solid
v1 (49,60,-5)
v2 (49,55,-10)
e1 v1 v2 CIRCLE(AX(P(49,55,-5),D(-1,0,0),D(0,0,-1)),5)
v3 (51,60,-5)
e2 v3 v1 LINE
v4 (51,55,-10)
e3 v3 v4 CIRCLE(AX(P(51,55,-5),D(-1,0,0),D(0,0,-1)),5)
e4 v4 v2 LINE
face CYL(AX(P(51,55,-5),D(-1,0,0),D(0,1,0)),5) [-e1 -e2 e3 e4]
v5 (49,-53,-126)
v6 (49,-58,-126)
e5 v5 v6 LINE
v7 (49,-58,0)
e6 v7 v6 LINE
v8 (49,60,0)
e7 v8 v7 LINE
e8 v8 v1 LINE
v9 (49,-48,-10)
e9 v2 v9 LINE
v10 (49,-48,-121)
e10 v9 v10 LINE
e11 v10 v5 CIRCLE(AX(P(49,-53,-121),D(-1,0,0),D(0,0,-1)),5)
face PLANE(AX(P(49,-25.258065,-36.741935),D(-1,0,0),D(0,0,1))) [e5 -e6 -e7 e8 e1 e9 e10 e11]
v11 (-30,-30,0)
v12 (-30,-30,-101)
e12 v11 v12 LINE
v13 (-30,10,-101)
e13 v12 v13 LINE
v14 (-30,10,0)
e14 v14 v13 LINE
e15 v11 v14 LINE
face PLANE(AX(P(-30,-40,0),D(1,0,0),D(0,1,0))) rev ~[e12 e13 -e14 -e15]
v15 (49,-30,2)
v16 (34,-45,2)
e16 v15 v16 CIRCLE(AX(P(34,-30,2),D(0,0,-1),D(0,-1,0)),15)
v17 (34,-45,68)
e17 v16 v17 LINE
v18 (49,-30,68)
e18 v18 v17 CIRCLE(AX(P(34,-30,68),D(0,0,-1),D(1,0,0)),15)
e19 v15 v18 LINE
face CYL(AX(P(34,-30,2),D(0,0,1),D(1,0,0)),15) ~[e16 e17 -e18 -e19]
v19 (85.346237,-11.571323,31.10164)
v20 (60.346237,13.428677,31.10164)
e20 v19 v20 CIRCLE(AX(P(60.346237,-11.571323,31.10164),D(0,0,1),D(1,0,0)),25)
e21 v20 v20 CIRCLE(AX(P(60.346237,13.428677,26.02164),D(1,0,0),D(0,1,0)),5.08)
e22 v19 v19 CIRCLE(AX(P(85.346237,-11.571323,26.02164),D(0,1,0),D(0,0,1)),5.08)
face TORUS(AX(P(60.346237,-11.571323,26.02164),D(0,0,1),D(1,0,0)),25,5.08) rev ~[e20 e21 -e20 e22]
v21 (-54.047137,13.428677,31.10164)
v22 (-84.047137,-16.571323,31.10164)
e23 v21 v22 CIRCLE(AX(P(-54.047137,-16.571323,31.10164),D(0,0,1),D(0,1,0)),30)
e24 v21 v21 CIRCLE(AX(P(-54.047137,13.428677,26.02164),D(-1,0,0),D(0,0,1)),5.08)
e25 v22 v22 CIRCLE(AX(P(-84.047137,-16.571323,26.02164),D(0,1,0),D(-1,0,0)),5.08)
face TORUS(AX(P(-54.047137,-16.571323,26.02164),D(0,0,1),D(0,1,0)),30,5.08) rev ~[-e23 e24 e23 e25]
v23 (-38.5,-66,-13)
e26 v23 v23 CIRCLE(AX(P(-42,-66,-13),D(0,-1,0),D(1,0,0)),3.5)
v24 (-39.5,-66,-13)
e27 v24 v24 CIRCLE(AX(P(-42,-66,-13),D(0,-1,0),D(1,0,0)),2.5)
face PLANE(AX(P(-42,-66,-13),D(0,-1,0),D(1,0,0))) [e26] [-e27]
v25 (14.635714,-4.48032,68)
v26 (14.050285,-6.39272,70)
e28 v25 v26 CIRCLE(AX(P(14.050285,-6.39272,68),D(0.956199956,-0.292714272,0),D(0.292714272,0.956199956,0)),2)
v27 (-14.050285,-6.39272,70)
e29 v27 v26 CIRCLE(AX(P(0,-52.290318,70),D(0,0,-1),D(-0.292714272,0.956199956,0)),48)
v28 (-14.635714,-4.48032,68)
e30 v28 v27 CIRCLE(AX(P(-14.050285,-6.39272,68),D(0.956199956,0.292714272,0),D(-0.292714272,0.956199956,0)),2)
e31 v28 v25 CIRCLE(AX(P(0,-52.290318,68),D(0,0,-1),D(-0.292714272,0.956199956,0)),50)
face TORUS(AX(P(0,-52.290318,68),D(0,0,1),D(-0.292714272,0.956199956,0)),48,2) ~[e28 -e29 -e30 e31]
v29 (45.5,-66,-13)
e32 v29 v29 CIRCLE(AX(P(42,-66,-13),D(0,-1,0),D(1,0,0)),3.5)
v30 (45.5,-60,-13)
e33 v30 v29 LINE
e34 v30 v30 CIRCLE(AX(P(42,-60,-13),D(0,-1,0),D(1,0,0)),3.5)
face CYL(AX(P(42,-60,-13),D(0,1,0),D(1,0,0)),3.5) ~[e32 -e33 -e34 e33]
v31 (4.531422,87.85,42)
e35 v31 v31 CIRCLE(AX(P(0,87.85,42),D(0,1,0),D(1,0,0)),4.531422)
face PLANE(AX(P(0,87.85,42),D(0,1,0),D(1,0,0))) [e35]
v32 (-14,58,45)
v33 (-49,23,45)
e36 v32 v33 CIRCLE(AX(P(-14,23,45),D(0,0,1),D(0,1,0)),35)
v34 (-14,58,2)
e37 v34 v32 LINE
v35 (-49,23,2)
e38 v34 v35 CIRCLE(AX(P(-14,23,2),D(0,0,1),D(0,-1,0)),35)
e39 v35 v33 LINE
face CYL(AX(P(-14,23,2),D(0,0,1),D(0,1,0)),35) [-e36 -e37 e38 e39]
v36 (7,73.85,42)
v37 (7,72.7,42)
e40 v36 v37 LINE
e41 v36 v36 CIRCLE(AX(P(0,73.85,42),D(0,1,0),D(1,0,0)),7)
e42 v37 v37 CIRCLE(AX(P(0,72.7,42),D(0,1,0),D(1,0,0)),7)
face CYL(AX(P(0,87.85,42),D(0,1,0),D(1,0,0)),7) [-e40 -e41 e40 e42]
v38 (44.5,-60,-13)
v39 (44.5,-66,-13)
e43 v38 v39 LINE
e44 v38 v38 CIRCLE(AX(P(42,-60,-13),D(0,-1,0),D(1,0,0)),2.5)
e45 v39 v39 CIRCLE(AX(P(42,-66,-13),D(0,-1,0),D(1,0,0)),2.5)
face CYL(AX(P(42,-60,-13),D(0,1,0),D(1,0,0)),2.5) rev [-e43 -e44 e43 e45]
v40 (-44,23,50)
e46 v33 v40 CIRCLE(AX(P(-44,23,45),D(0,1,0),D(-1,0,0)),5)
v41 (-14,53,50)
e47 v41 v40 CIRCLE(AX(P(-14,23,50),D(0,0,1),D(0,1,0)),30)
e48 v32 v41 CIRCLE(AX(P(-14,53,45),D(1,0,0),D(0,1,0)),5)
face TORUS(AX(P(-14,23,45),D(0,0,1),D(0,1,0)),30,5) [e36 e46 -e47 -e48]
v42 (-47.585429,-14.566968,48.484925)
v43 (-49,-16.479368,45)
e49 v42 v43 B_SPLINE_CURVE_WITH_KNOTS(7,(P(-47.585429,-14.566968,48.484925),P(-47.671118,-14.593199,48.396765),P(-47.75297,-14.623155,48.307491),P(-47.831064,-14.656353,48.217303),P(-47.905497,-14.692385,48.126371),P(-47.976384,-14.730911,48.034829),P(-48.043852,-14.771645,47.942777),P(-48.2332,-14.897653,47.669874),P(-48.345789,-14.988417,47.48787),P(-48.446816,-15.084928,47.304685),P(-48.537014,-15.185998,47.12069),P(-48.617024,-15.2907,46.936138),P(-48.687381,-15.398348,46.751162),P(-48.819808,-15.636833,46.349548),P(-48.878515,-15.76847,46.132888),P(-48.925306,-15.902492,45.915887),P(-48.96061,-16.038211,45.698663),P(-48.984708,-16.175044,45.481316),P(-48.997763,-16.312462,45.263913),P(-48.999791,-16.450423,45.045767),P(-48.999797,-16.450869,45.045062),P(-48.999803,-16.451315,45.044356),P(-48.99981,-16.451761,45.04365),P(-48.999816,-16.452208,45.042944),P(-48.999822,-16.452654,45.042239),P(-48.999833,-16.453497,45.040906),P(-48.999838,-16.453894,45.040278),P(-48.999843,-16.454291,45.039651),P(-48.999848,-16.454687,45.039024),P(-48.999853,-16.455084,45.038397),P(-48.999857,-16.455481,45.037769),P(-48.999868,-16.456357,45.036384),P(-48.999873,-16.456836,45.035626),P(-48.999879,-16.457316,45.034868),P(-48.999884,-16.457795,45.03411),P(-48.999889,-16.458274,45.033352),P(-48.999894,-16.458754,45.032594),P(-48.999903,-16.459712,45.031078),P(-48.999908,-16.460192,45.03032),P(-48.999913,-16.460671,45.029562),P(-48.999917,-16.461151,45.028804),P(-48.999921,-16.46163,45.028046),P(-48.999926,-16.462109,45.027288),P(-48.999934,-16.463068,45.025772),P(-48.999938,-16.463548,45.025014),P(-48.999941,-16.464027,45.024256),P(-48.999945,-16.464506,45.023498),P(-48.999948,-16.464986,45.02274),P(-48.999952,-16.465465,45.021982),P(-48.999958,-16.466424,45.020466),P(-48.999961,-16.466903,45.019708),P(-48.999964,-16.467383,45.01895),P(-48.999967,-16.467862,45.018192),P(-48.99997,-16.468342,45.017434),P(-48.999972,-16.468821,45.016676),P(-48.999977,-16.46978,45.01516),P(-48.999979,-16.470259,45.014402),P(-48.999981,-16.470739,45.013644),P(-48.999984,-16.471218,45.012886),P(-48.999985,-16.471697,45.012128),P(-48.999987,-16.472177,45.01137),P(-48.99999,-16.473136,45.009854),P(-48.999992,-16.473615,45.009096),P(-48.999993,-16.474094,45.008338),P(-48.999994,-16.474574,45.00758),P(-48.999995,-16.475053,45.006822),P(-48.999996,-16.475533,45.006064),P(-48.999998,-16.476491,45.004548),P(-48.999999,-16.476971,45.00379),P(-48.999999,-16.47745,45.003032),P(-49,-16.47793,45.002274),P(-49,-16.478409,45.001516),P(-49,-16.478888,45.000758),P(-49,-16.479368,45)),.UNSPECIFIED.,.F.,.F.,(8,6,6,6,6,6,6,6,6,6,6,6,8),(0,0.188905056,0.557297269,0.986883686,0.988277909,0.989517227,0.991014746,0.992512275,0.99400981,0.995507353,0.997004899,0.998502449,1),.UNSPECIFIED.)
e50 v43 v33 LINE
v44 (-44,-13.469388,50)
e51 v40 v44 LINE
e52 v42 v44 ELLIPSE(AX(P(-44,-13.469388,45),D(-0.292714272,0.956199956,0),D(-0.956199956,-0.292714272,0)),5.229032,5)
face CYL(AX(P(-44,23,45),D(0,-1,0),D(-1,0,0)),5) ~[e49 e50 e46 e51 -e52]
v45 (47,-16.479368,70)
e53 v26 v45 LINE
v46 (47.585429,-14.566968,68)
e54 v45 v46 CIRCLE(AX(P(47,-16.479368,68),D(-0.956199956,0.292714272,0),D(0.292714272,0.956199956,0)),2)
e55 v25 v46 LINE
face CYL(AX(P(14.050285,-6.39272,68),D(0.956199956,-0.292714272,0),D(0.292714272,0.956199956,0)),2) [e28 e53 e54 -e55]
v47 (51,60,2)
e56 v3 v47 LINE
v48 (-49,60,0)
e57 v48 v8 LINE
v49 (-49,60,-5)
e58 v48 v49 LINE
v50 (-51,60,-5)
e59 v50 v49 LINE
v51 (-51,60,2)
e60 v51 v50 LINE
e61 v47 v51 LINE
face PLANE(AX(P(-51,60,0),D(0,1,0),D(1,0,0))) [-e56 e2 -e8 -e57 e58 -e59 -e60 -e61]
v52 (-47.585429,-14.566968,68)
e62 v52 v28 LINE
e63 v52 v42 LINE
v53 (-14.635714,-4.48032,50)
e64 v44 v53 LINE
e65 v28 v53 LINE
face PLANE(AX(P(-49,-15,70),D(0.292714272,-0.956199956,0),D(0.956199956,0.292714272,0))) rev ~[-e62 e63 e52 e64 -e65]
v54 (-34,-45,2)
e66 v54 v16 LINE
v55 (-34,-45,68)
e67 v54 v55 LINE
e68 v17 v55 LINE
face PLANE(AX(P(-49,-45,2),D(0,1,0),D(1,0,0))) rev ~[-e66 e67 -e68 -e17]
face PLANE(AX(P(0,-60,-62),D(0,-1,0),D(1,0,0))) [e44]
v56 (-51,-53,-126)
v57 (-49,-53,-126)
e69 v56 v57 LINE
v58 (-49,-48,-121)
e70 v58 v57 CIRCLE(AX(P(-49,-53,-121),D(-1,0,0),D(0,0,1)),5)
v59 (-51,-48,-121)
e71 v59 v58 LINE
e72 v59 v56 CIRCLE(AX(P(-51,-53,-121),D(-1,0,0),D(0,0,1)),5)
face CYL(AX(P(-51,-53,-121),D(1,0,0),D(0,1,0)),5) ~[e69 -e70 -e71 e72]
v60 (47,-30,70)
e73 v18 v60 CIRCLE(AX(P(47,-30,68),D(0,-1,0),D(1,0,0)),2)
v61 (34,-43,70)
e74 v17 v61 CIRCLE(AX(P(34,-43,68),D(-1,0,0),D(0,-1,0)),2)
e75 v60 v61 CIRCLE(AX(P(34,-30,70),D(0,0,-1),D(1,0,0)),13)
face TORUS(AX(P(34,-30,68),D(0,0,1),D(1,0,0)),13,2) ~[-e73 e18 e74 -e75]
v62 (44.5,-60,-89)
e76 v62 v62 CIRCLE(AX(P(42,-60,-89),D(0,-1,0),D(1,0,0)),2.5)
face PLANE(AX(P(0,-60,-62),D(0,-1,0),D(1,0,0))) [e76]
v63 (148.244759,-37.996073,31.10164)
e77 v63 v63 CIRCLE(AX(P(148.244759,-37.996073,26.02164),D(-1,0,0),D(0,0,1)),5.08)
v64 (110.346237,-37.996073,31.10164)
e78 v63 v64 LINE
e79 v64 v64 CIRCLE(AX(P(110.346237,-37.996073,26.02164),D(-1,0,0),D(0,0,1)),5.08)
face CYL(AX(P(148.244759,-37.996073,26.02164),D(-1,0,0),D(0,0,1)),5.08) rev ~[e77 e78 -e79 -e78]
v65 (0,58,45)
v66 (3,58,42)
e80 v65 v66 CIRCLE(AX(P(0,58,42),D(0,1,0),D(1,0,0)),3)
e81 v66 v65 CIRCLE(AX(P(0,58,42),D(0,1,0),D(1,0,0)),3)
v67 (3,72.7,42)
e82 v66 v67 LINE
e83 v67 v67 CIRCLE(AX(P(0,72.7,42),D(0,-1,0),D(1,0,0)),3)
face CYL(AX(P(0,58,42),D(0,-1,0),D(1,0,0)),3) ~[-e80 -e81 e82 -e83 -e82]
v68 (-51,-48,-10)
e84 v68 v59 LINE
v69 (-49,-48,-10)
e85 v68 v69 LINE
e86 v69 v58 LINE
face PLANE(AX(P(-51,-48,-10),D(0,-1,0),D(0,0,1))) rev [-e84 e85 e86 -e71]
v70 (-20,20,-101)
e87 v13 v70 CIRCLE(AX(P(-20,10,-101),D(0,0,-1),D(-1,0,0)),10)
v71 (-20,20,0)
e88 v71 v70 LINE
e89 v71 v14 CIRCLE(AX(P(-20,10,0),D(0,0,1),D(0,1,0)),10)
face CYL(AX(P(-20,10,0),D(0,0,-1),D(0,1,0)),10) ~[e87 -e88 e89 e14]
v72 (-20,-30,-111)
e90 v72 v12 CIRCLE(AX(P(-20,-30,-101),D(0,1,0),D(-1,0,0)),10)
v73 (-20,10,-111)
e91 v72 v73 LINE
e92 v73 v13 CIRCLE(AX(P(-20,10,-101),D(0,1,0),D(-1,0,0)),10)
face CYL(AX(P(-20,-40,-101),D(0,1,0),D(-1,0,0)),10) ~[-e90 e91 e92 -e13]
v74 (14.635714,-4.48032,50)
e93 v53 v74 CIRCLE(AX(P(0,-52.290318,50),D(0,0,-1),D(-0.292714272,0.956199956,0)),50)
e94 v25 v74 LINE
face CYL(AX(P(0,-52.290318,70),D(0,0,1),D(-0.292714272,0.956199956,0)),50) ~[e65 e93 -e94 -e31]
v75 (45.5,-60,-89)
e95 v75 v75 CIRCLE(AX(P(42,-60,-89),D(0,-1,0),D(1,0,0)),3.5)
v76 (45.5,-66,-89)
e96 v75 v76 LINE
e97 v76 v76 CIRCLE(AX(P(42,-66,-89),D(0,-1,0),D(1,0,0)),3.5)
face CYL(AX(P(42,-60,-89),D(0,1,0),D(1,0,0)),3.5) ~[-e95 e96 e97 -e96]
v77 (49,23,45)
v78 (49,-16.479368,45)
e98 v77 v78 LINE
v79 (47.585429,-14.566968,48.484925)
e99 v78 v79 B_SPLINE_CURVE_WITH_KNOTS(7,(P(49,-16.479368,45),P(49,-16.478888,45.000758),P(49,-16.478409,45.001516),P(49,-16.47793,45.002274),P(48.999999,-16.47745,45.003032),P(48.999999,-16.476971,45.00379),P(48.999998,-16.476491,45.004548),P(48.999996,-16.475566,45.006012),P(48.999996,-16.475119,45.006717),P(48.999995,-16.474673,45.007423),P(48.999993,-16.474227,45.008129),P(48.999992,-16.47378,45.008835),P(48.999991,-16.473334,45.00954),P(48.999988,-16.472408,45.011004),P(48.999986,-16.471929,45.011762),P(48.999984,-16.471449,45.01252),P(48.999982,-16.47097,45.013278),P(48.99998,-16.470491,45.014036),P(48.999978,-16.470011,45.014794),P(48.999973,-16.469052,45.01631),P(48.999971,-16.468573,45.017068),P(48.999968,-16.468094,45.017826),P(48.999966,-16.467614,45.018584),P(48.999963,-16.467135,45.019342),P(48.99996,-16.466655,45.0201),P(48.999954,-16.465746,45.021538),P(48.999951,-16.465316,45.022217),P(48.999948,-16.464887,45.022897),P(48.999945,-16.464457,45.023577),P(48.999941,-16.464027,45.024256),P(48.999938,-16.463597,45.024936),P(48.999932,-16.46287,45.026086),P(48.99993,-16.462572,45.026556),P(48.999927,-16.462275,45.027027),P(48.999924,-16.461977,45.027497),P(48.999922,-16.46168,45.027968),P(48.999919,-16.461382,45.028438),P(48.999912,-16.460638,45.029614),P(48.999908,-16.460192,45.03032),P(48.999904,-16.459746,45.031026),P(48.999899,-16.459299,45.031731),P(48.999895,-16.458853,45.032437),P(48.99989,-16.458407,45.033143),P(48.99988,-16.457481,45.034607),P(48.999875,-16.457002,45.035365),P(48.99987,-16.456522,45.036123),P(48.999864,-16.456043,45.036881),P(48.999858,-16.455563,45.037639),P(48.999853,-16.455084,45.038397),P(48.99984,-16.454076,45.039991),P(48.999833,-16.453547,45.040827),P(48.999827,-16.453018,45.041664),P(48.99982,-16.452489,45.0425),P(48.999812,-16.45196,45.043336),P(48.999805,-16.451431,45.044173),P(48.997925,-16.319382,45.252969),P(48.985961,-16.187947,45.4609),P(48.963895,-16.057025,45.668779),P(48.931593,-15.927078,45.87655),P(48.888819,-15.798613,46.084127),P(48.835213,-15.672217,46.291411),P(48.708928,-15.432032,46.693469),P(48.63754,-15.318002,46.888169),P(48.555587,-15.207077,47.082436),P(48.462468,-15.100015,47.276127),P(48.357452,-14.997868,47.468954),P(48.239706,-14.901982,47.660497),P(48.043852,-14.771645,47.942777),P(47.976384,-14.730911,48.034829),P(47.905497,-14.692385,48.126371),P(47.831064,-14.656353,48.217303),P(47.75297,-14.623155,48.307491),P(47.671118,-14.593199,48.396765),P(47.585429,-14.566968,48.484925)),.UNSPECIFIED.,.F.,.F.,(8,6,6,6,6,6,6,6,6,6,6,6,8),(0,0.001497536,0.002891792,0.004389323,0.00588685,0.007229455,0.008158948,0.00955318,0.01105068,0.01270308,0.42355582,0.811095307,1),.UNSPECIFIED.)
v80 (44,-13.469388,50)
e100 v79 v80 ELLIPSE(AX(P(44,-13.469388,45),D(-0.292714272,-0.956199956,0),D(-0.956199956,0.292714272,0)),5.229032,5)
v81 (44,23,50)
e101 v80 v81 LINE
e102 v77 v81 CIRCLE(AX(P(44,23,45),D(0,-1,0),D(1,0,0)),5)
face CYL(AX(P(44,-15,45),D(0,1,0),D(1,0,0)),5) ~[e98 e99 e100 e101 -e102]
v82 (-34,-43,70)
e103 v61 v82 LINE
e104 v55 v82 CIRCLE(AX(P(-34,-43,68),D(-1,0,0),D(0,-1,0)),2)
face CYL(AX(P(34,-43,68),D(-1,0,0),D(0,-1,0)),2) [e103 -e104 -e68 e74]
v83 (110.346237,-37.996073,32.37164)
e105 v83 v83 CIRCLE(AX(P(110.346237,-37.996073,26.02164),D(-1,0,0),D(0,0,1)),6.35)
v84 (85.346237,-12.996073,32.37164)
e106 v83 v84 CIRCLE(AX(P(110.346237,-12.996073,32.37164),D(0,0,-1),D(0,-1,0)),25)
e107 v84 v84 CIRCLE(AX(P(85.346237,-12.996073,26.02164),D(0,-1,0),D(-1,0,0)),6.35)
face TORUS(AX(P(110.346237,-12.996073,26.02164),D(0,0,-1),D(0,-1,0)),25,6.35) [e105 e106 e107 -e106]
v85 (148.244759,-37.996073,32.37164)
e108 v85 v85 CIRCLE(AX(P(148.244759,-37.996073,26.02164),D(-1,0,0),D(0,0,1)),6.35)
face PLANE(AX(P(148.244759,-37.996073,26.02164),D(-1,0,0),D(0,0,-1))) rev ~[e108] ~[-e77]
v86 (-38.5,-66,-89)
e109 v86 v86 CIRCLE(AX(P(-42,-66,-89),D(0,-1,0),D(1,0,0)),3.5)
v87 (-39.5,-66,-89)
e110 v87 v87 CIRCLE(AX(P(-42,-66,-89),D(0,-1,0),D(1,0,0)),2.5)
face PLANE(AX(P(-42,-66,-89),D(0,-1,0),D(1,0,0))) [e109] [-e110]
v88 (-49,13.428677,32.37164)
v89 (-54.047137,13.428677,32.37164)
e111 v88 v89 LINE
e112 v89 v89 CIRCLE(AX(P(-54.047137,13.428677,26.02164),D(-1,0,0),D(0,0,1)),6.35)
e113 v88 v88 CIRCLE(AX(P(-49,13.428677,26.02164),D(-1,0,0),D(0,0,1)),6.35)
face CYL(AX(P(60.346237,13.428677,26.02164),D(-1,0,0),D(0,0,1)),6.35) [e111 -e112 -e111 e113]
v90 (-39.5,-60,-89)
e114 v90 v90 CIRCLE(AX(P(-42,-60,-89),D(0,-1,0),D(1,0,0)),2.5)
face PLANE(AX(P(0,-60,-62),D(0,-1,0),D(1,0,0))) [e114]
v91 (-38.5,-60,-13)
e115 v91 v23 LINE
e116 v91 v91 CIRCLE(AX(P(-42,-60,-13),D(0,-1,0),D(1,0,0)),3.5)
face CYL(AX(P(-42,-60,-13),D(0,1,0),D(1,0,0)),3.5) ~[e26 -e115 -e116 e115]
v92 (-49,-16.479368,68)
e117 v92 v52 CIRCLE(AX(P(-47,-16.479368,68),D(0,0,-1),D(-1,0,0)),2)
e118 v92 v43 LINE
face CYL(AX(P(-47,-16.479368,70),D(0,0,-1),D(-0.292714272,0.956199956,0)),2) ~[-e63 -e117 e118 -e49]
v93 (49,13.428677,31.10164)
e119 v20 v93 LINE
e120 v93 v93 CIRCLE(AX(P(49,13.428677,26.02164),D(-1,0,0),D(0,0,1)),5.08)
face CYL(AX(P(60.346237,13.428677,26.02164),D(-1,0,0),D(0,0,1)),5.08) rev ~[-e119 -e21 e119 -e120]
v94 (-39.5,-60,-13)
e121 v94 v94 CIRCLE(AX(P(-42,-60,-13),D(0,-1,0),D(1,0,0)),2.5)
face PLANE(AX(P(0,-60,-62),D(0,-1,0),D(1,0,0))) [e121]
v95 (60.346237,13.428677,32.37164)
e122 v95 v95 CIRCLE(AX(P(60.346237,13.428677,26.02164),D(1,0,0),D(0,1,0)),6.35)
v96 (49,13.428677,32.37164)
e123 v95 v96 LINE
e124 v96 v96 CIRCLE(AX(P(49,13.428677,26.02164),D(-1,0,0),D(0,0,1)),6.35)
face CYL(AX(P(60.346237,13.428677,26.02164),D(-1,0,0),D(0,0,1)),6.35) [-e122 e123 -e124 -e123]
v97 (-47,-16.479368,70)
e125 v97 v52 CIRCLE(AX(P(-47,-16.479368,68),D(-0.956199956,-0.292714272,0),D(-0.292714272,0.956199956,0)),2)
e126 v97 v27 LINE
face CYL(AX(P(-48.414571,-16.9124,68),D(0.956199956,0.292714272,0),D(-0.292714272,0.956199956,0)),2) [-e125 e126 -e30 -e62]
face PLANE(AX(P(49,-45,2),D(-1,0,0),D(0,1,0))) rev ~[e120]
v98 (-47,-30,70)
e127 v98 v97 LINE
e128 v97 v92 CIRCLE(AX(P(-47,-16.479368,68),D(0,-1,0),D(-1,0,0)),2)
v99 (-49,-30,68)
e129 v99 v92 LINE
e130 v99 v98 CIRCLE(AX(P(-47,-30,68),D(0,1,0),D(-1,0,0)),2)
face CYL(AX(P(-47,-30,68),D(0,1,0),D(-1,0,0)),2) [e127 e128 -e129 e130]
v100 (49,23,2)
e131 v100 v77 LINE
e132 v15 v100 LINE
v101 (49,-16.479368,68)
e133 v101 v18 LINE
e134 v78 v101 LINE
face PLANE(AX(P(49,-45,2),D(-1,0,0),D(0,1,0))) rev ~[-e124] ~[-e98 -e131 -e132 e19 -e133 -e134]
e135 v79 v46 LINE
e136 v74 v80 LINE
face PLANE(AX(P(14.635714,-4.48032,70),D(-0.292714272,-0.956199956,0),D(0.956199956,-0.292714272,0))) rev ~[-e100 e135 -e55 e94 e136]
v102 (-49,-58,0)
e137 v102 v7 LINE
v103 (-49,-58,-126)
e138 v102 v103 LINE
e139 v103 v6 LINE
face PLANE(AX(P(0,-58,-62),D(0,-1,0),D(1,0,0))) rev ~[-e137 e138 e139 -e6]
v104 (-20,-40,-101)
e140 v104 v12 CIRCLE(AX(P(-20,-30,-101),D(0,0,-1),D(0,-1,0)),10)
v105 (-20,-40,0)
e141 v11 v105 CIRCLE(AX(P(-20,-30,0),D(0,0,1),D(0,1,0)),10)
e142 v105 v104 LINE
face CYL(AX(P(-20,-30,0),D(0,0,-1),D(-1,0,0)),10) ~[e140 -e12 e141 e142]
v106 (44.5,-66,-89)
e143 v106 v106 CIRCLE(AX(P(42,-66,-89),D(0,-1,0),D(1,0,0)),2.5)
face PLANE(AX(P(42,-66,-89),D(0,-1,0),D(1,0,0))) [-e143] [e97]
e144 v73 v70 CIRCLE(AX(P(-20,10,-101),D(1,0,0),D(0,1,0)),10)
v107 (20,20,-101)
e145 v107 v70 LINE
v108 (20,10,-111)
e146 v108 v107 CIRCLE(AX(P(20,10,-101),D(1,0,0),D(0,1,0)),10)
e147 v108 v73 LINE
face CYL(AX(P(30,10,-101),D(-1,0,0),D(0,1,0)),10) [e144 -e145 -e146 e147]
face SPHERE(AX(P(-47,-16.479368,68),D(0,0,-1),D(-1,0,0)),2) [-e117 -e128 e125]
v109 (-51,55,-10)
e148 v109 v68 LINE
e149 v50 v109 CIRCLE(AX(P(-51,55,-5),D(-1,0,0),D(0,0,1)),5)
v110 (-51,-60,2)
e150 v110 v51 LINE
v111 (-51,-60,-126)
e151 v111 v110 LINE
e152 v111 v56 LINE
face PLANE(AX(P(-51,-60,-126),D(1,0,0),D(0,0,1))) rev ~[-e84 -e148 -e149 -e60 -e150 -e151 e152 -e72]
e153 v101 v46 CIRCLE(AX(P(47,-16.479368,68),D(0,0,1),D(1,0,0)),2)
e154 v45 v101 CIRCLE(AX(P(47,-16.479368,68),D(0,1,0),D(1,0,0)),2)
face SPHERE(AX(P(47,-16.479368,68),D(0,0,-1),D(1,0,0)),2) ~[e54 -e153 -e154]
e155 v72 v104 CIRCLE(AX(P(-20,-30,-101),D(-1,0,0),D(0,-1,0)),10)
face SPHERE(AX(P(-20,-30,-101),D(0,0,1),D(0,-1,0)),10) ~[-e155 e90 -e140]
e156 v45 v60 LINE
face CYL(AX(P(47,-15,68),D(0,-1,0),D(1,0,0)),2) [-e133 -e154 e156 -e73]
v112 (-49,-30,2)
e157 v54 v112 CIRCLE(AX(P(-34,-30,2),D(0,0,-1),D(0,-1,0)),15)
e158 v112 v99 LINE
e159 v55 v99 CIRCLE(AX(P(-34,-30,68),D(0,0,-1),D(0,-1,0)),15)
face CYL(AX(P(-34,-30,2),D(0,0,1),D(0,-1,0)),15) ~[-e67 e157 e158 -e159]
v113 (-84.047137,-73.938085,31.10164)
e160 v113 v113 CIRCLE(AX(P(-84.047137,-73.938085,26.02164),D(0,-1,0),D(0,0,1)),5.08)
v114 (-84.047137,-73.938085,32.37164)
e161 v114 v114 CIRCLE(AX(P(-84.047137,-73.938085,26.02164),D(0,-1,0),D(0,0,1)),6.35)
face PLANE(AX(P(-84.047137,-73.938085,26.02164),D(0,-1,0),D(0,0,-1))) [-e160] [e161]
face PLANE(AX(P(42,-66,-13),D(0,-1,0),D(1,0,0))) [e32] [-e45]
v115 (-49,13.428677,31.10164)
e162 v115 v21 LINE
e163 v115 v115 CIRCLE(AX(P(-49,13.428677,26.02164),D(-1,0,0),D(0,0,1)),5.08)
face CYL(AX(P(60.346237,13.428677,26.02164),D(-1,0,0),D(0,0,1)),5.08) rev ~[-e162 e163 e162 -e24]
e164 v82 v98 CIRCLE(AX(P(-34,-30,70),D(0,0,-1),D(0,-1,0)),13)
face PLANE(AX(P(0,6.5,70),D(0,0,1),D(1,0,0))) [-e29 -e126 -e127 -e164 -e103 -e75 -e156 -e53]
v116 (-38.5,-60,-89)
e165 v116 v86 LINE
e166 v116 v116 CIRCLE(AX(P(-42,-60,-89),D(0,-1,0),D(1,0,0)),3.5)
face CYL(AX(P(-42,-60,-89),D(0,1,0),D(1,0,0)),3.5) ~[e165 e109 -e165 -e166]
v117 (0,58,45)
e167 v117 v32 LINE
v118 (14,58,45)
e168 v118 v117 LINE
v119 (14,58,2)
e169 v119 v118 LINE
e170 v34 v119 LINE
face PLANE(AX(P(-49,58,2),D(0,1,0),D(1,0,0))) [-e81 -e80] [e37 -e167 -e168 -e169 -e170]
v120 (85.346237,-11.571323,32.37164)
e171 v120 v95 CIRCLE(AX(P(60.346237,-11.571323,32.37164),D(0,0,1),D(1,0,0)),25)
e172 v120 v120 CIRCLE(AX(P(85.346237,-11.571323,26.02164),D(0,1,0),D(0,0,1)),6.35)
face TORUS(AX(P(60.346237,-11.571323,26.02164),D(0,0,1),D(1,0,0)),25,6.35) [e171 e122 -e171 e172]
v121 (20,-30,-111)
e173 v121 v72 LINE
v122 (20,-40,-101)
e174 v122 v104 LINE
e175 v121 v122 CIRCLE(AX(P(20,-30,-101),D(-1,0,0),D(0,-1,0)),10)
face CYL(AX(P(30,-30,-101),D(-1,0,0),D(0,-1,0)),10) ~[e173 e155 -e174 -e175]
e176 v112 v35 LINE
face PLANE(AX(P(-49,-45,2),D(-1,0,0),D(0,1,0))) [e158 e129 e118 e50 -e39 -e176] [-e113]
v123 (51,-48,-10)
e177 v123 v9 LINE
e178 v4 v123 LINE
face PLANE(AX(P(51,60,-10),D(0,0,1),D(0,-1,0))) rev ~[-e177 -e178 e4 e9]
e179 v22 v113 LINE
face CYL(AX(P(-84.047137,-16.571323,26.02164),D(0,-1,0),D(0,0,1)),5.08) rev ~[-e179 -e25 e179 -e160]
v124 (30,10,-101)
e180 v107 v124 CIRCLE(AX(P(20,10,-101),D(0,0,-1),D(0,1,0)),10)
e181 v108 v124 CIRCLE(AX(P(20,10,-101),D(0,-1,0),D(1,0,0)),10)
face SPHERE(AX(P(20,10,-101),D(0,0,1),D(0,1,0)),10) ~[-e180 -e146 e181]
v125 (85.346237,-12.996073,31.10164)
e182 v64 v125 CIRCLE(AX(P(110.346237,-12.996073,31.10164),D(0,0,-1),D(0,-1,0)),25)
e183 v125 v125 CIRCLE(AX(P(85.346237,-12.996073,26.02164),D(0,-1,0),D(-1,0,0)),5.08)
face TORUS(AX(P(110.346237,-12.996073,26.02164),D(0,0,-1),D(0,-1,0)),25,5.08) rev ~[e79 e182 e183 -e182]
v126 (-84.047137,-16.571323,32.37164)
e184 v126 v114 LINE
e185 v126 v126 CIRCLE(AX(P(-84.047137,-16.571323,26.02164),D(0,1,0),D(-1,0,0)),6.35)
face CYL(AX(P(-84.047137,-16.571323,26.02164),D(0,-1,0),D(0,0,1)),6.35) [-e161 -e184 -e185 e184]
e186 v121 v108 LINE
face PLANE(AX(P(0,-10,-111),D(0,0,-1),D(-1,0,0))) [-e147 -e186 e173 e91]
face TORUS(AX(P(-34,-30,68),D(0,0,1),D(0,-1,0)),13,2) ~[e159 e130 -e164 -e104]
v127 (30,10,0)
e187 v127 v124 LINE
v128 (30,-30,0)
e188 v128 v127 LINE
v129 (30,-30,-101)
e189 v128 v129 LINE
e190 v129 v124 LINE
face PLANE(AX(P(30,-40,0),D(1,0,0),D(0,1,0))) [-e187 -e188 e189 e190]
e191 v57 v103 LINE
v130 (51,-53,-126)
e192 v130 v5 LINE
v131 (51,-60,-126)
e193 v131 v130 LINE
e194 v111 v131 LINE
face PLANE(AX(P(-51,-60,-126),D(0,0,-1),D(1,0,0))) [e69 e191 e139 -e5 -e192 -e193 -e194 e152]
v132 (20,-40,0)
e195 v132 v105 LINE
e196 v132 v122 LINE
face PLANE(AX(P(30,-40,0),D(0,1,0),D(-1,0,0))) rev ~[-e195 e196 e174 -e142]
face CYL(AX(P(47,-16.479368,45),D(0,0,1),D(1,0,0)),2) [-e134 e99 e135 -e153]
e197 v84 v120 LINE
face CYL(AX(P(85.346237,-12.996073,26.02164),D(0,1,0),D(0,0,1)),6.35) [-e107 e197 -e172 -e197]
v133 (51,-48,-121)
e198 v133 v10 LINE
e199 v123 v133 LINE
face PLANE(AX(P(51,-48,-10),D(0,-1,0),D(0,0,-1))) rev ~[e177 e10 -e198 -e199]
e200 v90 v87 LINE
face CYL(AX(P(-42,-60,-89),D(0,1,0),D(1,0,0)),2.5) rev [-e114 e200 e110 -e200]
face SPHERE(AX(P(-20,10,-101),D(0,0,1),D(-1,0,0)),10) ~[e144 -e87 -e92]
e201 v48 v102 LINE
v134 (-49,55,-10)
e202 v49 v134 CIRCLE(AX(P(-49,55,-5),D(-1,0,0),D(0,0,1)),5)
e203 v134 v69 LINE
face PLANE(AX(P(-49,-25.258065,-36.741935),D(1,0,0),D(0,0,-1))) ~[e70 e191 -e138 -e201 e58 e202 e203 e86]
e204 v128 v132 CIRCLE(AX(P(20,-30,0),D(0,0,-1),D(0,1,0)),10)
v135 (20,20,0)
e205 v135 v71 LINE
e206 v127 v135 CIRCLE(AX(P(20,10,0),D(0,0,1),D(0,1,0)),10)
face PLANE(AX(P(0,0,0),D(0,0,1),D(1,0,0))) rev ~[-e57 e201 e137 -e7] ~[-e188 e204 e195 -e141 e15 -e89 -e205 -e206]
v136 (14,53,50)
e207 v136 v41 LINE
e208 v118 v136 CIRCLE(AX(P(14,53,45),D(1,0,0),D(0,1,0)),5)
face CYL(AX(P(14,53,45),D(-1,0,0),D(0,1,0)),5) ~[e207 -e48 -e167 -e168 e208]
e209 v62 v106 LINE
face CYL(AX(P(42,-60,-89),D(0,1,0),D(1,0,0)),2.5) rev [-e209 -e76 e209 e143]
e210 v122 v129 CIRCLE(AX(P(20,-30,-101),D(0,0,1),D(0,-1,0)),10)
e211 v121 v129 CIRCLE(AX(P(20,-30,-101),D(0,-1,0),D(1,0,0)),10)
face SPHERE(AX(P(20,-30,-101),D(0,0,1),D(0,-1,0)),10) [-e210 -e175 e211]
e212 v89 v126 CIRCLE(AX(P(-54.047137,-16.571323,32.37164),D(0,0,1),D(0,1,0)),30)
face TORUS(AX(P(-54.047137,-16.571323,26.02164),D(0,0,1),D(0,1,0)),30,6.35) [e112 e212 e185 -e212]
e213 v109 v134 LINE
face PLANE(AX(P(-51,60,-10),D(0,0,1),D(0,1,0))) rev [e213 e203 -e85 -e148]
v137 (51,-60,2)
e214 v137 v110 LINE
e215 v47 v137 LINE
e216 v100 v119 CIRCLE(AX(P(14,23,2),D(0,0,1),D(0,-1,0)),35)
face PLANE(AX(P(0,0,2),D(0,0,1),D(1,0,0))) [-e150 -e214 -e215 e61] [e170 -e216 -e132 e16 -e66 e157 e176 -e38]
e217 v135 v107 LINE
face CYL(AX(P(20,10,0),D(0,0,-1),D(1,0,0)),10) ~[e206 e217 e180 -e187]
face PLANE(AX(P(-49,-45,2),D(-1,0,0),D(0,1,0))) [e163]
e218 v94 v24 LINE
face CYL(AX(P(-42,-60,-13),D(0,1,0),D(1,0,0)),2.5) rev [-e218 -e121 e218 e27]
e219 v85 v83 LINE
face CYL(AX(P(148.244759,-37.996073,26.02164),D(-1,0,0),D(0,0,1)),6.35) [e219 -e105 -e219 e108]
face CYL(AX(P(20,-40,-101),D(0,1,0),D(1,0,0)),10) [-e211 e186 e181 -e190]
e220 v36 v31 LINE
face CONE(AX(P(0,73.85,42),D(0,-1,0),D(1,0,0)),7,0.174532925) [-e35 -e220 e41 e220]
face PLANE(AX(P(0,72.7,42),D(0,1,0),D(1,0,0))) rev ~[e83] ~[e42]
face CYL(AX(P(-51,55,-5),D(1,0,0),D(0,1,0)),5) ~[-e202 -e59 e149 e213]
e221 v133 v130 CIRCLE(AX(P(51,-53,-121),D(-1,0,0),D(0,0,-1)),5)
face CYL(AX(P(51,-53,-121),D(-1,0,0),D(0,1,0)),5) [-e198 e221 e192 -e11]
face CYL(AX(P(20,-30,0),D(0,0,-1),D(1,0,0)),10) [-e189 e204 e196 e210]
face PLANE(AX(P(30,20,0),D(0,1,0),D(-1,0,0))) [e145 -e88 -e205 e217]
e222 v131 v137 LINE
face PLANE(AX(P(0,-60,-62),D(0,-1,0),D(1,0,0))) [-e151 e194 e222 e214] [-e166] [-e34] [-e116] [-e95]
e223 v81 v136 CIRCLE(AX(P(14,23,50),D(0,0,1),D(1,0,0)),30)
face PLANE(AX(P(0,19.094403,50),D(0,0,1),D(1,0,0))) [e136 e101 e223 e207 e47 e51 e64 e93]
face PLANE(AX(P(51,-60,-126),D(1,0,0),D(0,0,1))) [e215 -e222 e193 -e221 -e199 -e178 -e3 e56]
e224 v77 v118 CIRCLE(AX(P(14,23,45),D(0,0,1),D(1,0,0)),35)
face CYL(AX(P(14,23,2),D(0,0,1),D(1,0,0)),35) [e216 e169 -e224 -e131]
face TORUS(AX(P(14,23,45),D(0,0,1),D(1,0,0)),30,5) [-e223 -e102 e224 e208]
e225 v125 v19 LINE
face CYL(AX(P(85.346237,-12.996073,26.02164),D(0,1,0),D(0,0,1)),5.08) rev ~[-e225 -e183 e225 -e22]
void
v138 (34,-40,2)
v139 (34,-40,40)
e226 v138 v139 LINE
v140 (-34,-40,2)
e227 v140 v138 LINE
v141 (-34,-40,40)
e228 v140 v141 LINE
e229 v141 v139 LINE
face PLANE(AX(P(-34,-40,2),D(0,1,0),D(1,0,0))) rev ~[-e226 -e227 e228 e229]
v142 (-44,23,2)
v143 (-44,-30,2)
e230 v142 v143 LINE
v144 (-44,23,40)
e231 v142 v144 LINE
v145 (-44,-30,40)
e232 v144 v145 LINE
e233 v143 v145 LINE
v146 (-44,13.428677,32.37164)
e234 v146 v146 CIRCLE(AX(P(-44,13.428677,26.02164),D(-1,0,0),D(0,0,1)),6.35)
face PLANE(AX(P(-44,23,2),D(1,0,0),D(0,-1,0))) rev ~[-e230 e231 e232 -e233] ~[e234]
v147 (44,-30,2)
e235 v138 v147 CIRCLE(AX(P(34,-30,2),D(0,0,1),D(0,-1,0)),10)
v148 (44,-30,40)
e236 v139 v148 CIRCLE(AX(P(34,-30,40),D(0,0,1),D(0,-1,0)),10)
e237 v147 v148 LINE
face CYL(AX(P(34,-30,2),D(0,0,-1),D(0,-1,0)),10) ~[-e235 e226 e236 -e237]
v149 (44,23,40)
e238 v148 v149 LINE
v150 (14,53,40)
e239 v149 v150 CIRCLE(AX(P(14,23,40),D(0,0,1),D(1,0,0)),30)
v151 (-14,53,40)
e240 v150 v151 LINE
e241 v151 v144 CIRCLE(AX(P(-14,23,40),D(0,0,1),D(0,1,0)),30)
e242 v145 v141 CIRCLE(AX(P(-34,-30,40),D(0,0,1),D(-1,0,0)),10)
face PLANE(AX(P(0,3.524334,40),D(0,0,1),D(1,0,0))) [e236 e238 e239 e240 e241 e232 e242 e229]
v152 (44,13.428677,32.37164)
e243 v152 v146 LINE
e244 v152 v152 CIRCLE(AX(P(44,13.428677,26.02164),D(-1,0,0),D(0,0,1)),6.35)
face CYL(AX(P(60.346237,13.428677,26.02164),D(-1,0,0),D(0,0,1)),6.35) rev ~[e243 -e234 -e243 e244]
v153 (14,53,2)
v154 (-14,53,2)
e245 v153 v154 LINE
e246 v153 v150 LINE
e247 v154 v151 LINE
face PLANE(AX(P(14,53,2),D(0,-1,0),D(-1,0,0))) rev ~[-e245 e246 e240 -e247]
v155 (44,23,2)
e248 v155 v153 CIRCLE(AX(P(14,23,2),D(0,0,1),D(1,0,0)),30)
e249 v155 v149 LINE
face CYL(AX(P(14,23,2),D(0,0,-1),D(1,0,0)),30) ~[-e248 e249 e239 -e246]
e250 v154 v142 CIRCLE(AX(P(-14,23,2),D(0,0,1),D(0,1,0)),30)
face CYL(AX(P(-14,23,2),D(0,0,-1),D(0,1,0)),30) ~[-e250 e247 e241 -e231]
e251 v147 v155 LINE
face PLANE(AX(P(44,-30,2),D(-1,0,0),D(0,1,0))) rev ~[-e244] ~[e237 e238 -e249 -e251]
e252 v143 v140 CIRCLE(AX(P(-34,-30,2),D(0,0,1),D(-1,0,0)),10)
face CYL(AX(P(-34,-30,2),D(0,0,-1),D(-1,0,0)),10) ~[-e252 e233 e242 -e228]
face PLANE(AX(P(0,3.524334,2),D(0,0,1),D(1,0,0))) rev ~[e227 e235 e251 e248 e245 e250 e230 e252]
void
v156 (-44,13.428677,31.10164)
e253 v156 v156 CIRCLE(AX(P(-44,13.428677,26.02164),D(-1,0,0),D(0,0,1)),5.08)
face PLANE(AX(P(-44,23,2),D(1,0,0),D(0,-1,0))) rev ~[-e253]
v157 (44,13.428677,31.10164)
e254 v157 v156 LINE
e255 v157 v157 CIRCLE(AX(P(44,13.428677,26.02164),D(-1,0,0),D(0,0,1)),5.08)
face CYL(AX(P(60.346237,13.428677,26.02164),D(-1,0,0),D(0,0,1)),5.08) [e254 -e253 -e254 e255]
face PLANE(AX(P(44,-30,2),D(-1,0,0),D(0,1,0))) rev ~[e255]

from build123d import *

# Parameters (mm, degrees)
SKETCH1_W           = 102
SKETCH1_H           = 120
BOSS_EXTRUDE1_DEPTH = 2
SKETCH2_W           = 102
SKETCH2_H           = 128
BOSS_EXTRUDE2_DEPTH = 2
BOSS_EXTRUDE3_DEPTH = 2
FILLET1_R           = 5
SKETCH5_R           = 3.5
SKETCH5_R_2         = 2.5
BOSS_EXTRUDE4_DEPTH = 6
SKETCH4_W           = 98
SKETCH4_H           = 103
BOSS_EXTRUDE5_DEPTH = 68
FILLET2_R           = 35
FILLET3_R           = 15
CUT_EXTRUDE1_DEPTH  = 20
FILLET4_R           = 5
FILLET5_R           = 2
SKETCH8_W           = 60
SKETCH8_H           = 60
BOSS_EXTRUDE6_DEPTH = 111
FILLET6_R           = 10
SKETCH10_R          = 3
BOSS_EXTRUDE7_DEPTH = 29.85
SKETCH11_R          = 7
BOSS_EXTRUDE8_DEPTH = 15.15
CHAMFER1_SIZE       = 14
CHAMFER1_SIZE2      = 2.46857773
CUT_EXTRUDE2_DEPTH  = 38
SKETCH12_R          = 6.35
SKETCH12_R_2        = 5.08


with BuildPart() as part:
    # Sketch1 → Boss-Extrude1 (new body)
    with BuildSketch(Plane.XY):
        Rectangle(SKETCH1_W, SKETCH1_H)
    extrude(amount=BOSS_EXTRUDE1_DEPTH)

    # Sketch2 → Boss-Extrude2 (add)
    with BuildSketch(Plane.XZ.offset(60)):
        with Locations((0, -62)):
            Rectangle(SKETCH2_W, SKETCH2_H)
    extrude(amount=-BOSS_EXTRUDE2_DEPTH)

    # Sketch3 → Boss-Extrude3 (add)
    with BuildSketch(Plane(origin=(51, 0, 0), x_dir=(0, 0, -1), z_dir=(1, 0, 0))):
        Polygon((-2, 60), (10, 60), (10, -48), (126, -48), (126, -60), (-2, -60), (-2, -48), align=None)
    boss_extrude3 = extrude(amount=-BOSS_EXTRUDE3_DEPTH)

    # Mirror1: Boss-Extrude3 across plane
    add(boss_extrude3.mirror(Plane(origin=(0, 0, 0), x_dir=(0, 0, 1), z_dir=(1, 0, 0))))

    # Fillet1
    fillet1_edges = [part.edges().sort_by_distance(p)[0] for p in [
        (50, -48, -126),
        (50, 60, -10),
        (-50, -48, -126),
        (-50, 60, -10),
    ]]
    fillet(fillet1_edges, radius=FILLET1_R)

    # Sketch5 → Boss-Extrude4 (add)
    with BuildSketch(Plane.XZ.offset(60)):
        with Locations((-42, -13)):
            Circle(SKETCH5_R)
        with Locations((-42, -13)):
            Circle(SKETCH5_R_2, mode=Mode.SUBTRACT)
        with Locations((42, -13)):
            Circle(SKETCH5_R)
        with Locations((42, -13)):
            Circle(SKETCH5_R_2, mode=Mode.SUBTRACT)
        with Locations((-42, -89)):
            Circle(SKETCH5_R)
        with Locations((-42, -89)):
            Circle(SKETCH5_R_2, mode=Mode.SUBTRACT)
        with Locations((42, -89)):
            Circle(SKETCH5_R)
        with Locations((42, -89)):
            Circle(SKETCH5_R_2, mode=Mode.SUBTRACT)
    extrude(amount=BOSS_EXTRUDE4_DEPTH)

    # Sketch4 → Boss-Extrude5 (add)
    with BuildSketch(Plane.XY.offset(2)):
        with Locations((0, 6.5)):
            Rectangle(SKETCH4_W, SKETCH4_H)
    extrude(amount=BOSS_EXTRUDE5_DEPTH)

    # Fillet2
    fillet2_edges = [part.edges().sort_by_distance(p)[0] for p in [
        (-49, 58, 36),
        (49, 58, 36),
    ]]
    fillet(fillet2_edges, radius=FILLET2_R)

    # Fillet3
    fillet3_edges = [part.edges().sort_by_distance(p)[0] for p in [
        (-49, -45, 36),
        (49, -45, 36),
    ]]
    fillet(fillet3_edges, radius=FILLET3_R)

    # Sketch6 → Cut-Extrude1 (cut)
    with BuildSketch(Plane.XY.offset(70)):
        with BuildLine():
            Line((-49, -15), (-14.635713605, -4.480320491))
            ThreePointArc((-14.635713605, -4.480320491), (0, -2.290318267), (14.635713605, -4.480320491))
            Line((14.635713605, -4.480320491), (49, -15))
            Line((49, -15), (49, 23))
            ThreePointArc((49, 23), (38.748737342, 47.748737342), (14, 58))
            Line((14, 58), (-14, 58))
            ThreePointArc((-14, 58), (-38.748737342, 47.748737342), (-49, 23))
            Line((-49, 23), (-49, -15))
        make_face()
    extrude(amount=-CUT_EXTRUDE1_DEPTH, mode=Mode.SUBTRACT)

    # Fillet4
    fillet4_edges = [part.edges().sort_by_distance(p)[0] for p in [
        (-49, 4, 50),
        (-38.748737342, 47.748737342, 50),
        (0, 58, 50),
        (38.748737342, 47.748737342, 50),
        (49, 4, 50),
    ]]
    fillet(fillet4_edges, radius=FILLET4_R)

    # Fillet5
    fillet5_edges = [part.edges().sort_by_distance(p)[0] for p in [
        (-31.817856802, -9.740160246, 70),
        (31.817856802, -9.740160246, 70),
        (-49, -15, 60),
        (49, -15, 60),
        (0, -2.290318267, 70),
        (-49, -22.5, 70),
        (-44.606601718, -40.606601718, 70),
        (0, -45, 70),
        (44.606601718, -40.606601718, 70),
        (49, -22.5, 70),
    ]]
    fillet(fillet5_edges, radius=FILLET5_R)

    # Sketch8 → Boss-Extrude6 (add)
    with BuildSketch(Plane(origin=(0, 0, 0), x_dir=(-1, 0, 0), z_dir=(0, 0, -1))):
        with Locations((0, -10)):
            Rectangle(SKETCH8_W, SKETCH8_H)
    extrude(amount=BOSS_EXTRUDE6_DEPTH)

    # Fillet6
    fillet6_edges = [part.edges().sort_by_distance(p)[0] for p in [
        (-30, -40, -55.5),
        (-30, 20, -55.5),
        (30, 20, -55.5),
        (30, -40, -55.5),
        (0, -40, -111),
        (-30, -10, -111),
        (0, 20, -111),
        (30, -10, -111),
    ]]
    fillet(fillet6_edges, radius=FILLET6_R)

    # Sketch10 → Boss-Extrude7 (add)
    with BuildSketch(Plane(origin=(0, 58, 0), x_dir=(1, 0, 0), z_dir=(0, 1, 0))):
        with Locations((0, -42)):
            Circle(SKETCH10_R)
    extrude(amount=BOSS_EXTRUDE7_DEPTH)

    # Sketch11 → Boss-Extrude8 (add)
    with BuildSketch(Plane(origin=(0, 87.85, 0), x_dir=(1, 0, 0), z_dir=(0, 1, 0))):
        with Locations((0, -42)):
            Circle(SKETCH11_R)
    extrude(amount=-BOSS_EXTRUDE8_DEPTH)

    # Chamfer1
    chamfer1_edges = [part.edges().sort_by_distance(p)[0] for p in [
        (-7, 87.85, 42),
    ]]
    chamfer1_side = [part.faces().sort_by_distance(p)[0] for p in [
        (-7, 80.275, 42),
    ]]
    chamfer(chamfer1_edges, length=CHAMFER1_SIZE, length2=CHAMFER1_SIZE2, reference=chamfer1_side[0])

    # Sketch15 → Cut-Extrude2 (cut)
    with BuildSketch(Plane.XY.offset(2)):
        with BuildLine():
            Line((44, -13.469387755), (44, 23))
            ThreePointArc((44, 23), (35.213203436, 44.213203436), (14, 53))
            Line((14, 53), (-14, 53))
            ThreePointArc((-14, 53), (-35.213203436, 44.213203436), (-44, 23))
            Line((-44, 23), (-44, -13.469387755))
            Line((-44, -13.469387755), (-44, -16.479367833))
            Line((-44, -16.479367833), (-44, -30))
            ThreePointArc((-44, -30), (-41.071067812, -37.071067812), (-34, -40))
            Line((-34, -40), (34, -40))
            ThreePointArc((34, -40), (41.071067812, -37.071067812), (44, -30))
            Line((44, -30), (44, -16.479367833))
            Line((44, -16.479367833), (44, -13.469387755))
        make_face()
    extrude(amount=CUT_EXTRUDE2_DEPTH, mode=Mode.SUBTRACT)

    # Sweep1: sweep along a path in Sketch13
    with BuildLine(Plane.XY.offset(50)) as sweep1_path:
        Line((148.244758881, -37.996072563), (110.346237014, -37.996072563))
        ThreePointArc((110.346237014, -37.996072563), (92.668567485, -30.673742092), (85.346237014, -12.996072563))
        Line((85.346237014, -12.996072563), (85.346237014, -11.571323289))
        ThreePointArc((85.346237014, -11.571323289), (78.023906544, 6.10634624), (60.346237014, 13.428676711))
        Line((60.346237014, 13.428676711), (-54.047136689, 13.428676711))
        ThreePointArc((-54.047136689, 13.428676711), (-75.260340125, 4.641880146), (-84.047136689, -16.571323289))
        Line((-84.047136689, -16.571323289), (-84.047136689, -73.938085058))
    # Sketch12 → Sweep1 (sweep)
    with BuildSketch(Plane.ZY.offset(49)):
        with Locations((26.021639794, 13.428676711)):
            Circle(SKETCH12_R)
        with Locations((26.021639794, 13.428676711)):
            Circle(SKETCH12_R_2, mode=Mode.SUBTRACT)
    sweep(path=sweep1_path.line)


solid = part.part
